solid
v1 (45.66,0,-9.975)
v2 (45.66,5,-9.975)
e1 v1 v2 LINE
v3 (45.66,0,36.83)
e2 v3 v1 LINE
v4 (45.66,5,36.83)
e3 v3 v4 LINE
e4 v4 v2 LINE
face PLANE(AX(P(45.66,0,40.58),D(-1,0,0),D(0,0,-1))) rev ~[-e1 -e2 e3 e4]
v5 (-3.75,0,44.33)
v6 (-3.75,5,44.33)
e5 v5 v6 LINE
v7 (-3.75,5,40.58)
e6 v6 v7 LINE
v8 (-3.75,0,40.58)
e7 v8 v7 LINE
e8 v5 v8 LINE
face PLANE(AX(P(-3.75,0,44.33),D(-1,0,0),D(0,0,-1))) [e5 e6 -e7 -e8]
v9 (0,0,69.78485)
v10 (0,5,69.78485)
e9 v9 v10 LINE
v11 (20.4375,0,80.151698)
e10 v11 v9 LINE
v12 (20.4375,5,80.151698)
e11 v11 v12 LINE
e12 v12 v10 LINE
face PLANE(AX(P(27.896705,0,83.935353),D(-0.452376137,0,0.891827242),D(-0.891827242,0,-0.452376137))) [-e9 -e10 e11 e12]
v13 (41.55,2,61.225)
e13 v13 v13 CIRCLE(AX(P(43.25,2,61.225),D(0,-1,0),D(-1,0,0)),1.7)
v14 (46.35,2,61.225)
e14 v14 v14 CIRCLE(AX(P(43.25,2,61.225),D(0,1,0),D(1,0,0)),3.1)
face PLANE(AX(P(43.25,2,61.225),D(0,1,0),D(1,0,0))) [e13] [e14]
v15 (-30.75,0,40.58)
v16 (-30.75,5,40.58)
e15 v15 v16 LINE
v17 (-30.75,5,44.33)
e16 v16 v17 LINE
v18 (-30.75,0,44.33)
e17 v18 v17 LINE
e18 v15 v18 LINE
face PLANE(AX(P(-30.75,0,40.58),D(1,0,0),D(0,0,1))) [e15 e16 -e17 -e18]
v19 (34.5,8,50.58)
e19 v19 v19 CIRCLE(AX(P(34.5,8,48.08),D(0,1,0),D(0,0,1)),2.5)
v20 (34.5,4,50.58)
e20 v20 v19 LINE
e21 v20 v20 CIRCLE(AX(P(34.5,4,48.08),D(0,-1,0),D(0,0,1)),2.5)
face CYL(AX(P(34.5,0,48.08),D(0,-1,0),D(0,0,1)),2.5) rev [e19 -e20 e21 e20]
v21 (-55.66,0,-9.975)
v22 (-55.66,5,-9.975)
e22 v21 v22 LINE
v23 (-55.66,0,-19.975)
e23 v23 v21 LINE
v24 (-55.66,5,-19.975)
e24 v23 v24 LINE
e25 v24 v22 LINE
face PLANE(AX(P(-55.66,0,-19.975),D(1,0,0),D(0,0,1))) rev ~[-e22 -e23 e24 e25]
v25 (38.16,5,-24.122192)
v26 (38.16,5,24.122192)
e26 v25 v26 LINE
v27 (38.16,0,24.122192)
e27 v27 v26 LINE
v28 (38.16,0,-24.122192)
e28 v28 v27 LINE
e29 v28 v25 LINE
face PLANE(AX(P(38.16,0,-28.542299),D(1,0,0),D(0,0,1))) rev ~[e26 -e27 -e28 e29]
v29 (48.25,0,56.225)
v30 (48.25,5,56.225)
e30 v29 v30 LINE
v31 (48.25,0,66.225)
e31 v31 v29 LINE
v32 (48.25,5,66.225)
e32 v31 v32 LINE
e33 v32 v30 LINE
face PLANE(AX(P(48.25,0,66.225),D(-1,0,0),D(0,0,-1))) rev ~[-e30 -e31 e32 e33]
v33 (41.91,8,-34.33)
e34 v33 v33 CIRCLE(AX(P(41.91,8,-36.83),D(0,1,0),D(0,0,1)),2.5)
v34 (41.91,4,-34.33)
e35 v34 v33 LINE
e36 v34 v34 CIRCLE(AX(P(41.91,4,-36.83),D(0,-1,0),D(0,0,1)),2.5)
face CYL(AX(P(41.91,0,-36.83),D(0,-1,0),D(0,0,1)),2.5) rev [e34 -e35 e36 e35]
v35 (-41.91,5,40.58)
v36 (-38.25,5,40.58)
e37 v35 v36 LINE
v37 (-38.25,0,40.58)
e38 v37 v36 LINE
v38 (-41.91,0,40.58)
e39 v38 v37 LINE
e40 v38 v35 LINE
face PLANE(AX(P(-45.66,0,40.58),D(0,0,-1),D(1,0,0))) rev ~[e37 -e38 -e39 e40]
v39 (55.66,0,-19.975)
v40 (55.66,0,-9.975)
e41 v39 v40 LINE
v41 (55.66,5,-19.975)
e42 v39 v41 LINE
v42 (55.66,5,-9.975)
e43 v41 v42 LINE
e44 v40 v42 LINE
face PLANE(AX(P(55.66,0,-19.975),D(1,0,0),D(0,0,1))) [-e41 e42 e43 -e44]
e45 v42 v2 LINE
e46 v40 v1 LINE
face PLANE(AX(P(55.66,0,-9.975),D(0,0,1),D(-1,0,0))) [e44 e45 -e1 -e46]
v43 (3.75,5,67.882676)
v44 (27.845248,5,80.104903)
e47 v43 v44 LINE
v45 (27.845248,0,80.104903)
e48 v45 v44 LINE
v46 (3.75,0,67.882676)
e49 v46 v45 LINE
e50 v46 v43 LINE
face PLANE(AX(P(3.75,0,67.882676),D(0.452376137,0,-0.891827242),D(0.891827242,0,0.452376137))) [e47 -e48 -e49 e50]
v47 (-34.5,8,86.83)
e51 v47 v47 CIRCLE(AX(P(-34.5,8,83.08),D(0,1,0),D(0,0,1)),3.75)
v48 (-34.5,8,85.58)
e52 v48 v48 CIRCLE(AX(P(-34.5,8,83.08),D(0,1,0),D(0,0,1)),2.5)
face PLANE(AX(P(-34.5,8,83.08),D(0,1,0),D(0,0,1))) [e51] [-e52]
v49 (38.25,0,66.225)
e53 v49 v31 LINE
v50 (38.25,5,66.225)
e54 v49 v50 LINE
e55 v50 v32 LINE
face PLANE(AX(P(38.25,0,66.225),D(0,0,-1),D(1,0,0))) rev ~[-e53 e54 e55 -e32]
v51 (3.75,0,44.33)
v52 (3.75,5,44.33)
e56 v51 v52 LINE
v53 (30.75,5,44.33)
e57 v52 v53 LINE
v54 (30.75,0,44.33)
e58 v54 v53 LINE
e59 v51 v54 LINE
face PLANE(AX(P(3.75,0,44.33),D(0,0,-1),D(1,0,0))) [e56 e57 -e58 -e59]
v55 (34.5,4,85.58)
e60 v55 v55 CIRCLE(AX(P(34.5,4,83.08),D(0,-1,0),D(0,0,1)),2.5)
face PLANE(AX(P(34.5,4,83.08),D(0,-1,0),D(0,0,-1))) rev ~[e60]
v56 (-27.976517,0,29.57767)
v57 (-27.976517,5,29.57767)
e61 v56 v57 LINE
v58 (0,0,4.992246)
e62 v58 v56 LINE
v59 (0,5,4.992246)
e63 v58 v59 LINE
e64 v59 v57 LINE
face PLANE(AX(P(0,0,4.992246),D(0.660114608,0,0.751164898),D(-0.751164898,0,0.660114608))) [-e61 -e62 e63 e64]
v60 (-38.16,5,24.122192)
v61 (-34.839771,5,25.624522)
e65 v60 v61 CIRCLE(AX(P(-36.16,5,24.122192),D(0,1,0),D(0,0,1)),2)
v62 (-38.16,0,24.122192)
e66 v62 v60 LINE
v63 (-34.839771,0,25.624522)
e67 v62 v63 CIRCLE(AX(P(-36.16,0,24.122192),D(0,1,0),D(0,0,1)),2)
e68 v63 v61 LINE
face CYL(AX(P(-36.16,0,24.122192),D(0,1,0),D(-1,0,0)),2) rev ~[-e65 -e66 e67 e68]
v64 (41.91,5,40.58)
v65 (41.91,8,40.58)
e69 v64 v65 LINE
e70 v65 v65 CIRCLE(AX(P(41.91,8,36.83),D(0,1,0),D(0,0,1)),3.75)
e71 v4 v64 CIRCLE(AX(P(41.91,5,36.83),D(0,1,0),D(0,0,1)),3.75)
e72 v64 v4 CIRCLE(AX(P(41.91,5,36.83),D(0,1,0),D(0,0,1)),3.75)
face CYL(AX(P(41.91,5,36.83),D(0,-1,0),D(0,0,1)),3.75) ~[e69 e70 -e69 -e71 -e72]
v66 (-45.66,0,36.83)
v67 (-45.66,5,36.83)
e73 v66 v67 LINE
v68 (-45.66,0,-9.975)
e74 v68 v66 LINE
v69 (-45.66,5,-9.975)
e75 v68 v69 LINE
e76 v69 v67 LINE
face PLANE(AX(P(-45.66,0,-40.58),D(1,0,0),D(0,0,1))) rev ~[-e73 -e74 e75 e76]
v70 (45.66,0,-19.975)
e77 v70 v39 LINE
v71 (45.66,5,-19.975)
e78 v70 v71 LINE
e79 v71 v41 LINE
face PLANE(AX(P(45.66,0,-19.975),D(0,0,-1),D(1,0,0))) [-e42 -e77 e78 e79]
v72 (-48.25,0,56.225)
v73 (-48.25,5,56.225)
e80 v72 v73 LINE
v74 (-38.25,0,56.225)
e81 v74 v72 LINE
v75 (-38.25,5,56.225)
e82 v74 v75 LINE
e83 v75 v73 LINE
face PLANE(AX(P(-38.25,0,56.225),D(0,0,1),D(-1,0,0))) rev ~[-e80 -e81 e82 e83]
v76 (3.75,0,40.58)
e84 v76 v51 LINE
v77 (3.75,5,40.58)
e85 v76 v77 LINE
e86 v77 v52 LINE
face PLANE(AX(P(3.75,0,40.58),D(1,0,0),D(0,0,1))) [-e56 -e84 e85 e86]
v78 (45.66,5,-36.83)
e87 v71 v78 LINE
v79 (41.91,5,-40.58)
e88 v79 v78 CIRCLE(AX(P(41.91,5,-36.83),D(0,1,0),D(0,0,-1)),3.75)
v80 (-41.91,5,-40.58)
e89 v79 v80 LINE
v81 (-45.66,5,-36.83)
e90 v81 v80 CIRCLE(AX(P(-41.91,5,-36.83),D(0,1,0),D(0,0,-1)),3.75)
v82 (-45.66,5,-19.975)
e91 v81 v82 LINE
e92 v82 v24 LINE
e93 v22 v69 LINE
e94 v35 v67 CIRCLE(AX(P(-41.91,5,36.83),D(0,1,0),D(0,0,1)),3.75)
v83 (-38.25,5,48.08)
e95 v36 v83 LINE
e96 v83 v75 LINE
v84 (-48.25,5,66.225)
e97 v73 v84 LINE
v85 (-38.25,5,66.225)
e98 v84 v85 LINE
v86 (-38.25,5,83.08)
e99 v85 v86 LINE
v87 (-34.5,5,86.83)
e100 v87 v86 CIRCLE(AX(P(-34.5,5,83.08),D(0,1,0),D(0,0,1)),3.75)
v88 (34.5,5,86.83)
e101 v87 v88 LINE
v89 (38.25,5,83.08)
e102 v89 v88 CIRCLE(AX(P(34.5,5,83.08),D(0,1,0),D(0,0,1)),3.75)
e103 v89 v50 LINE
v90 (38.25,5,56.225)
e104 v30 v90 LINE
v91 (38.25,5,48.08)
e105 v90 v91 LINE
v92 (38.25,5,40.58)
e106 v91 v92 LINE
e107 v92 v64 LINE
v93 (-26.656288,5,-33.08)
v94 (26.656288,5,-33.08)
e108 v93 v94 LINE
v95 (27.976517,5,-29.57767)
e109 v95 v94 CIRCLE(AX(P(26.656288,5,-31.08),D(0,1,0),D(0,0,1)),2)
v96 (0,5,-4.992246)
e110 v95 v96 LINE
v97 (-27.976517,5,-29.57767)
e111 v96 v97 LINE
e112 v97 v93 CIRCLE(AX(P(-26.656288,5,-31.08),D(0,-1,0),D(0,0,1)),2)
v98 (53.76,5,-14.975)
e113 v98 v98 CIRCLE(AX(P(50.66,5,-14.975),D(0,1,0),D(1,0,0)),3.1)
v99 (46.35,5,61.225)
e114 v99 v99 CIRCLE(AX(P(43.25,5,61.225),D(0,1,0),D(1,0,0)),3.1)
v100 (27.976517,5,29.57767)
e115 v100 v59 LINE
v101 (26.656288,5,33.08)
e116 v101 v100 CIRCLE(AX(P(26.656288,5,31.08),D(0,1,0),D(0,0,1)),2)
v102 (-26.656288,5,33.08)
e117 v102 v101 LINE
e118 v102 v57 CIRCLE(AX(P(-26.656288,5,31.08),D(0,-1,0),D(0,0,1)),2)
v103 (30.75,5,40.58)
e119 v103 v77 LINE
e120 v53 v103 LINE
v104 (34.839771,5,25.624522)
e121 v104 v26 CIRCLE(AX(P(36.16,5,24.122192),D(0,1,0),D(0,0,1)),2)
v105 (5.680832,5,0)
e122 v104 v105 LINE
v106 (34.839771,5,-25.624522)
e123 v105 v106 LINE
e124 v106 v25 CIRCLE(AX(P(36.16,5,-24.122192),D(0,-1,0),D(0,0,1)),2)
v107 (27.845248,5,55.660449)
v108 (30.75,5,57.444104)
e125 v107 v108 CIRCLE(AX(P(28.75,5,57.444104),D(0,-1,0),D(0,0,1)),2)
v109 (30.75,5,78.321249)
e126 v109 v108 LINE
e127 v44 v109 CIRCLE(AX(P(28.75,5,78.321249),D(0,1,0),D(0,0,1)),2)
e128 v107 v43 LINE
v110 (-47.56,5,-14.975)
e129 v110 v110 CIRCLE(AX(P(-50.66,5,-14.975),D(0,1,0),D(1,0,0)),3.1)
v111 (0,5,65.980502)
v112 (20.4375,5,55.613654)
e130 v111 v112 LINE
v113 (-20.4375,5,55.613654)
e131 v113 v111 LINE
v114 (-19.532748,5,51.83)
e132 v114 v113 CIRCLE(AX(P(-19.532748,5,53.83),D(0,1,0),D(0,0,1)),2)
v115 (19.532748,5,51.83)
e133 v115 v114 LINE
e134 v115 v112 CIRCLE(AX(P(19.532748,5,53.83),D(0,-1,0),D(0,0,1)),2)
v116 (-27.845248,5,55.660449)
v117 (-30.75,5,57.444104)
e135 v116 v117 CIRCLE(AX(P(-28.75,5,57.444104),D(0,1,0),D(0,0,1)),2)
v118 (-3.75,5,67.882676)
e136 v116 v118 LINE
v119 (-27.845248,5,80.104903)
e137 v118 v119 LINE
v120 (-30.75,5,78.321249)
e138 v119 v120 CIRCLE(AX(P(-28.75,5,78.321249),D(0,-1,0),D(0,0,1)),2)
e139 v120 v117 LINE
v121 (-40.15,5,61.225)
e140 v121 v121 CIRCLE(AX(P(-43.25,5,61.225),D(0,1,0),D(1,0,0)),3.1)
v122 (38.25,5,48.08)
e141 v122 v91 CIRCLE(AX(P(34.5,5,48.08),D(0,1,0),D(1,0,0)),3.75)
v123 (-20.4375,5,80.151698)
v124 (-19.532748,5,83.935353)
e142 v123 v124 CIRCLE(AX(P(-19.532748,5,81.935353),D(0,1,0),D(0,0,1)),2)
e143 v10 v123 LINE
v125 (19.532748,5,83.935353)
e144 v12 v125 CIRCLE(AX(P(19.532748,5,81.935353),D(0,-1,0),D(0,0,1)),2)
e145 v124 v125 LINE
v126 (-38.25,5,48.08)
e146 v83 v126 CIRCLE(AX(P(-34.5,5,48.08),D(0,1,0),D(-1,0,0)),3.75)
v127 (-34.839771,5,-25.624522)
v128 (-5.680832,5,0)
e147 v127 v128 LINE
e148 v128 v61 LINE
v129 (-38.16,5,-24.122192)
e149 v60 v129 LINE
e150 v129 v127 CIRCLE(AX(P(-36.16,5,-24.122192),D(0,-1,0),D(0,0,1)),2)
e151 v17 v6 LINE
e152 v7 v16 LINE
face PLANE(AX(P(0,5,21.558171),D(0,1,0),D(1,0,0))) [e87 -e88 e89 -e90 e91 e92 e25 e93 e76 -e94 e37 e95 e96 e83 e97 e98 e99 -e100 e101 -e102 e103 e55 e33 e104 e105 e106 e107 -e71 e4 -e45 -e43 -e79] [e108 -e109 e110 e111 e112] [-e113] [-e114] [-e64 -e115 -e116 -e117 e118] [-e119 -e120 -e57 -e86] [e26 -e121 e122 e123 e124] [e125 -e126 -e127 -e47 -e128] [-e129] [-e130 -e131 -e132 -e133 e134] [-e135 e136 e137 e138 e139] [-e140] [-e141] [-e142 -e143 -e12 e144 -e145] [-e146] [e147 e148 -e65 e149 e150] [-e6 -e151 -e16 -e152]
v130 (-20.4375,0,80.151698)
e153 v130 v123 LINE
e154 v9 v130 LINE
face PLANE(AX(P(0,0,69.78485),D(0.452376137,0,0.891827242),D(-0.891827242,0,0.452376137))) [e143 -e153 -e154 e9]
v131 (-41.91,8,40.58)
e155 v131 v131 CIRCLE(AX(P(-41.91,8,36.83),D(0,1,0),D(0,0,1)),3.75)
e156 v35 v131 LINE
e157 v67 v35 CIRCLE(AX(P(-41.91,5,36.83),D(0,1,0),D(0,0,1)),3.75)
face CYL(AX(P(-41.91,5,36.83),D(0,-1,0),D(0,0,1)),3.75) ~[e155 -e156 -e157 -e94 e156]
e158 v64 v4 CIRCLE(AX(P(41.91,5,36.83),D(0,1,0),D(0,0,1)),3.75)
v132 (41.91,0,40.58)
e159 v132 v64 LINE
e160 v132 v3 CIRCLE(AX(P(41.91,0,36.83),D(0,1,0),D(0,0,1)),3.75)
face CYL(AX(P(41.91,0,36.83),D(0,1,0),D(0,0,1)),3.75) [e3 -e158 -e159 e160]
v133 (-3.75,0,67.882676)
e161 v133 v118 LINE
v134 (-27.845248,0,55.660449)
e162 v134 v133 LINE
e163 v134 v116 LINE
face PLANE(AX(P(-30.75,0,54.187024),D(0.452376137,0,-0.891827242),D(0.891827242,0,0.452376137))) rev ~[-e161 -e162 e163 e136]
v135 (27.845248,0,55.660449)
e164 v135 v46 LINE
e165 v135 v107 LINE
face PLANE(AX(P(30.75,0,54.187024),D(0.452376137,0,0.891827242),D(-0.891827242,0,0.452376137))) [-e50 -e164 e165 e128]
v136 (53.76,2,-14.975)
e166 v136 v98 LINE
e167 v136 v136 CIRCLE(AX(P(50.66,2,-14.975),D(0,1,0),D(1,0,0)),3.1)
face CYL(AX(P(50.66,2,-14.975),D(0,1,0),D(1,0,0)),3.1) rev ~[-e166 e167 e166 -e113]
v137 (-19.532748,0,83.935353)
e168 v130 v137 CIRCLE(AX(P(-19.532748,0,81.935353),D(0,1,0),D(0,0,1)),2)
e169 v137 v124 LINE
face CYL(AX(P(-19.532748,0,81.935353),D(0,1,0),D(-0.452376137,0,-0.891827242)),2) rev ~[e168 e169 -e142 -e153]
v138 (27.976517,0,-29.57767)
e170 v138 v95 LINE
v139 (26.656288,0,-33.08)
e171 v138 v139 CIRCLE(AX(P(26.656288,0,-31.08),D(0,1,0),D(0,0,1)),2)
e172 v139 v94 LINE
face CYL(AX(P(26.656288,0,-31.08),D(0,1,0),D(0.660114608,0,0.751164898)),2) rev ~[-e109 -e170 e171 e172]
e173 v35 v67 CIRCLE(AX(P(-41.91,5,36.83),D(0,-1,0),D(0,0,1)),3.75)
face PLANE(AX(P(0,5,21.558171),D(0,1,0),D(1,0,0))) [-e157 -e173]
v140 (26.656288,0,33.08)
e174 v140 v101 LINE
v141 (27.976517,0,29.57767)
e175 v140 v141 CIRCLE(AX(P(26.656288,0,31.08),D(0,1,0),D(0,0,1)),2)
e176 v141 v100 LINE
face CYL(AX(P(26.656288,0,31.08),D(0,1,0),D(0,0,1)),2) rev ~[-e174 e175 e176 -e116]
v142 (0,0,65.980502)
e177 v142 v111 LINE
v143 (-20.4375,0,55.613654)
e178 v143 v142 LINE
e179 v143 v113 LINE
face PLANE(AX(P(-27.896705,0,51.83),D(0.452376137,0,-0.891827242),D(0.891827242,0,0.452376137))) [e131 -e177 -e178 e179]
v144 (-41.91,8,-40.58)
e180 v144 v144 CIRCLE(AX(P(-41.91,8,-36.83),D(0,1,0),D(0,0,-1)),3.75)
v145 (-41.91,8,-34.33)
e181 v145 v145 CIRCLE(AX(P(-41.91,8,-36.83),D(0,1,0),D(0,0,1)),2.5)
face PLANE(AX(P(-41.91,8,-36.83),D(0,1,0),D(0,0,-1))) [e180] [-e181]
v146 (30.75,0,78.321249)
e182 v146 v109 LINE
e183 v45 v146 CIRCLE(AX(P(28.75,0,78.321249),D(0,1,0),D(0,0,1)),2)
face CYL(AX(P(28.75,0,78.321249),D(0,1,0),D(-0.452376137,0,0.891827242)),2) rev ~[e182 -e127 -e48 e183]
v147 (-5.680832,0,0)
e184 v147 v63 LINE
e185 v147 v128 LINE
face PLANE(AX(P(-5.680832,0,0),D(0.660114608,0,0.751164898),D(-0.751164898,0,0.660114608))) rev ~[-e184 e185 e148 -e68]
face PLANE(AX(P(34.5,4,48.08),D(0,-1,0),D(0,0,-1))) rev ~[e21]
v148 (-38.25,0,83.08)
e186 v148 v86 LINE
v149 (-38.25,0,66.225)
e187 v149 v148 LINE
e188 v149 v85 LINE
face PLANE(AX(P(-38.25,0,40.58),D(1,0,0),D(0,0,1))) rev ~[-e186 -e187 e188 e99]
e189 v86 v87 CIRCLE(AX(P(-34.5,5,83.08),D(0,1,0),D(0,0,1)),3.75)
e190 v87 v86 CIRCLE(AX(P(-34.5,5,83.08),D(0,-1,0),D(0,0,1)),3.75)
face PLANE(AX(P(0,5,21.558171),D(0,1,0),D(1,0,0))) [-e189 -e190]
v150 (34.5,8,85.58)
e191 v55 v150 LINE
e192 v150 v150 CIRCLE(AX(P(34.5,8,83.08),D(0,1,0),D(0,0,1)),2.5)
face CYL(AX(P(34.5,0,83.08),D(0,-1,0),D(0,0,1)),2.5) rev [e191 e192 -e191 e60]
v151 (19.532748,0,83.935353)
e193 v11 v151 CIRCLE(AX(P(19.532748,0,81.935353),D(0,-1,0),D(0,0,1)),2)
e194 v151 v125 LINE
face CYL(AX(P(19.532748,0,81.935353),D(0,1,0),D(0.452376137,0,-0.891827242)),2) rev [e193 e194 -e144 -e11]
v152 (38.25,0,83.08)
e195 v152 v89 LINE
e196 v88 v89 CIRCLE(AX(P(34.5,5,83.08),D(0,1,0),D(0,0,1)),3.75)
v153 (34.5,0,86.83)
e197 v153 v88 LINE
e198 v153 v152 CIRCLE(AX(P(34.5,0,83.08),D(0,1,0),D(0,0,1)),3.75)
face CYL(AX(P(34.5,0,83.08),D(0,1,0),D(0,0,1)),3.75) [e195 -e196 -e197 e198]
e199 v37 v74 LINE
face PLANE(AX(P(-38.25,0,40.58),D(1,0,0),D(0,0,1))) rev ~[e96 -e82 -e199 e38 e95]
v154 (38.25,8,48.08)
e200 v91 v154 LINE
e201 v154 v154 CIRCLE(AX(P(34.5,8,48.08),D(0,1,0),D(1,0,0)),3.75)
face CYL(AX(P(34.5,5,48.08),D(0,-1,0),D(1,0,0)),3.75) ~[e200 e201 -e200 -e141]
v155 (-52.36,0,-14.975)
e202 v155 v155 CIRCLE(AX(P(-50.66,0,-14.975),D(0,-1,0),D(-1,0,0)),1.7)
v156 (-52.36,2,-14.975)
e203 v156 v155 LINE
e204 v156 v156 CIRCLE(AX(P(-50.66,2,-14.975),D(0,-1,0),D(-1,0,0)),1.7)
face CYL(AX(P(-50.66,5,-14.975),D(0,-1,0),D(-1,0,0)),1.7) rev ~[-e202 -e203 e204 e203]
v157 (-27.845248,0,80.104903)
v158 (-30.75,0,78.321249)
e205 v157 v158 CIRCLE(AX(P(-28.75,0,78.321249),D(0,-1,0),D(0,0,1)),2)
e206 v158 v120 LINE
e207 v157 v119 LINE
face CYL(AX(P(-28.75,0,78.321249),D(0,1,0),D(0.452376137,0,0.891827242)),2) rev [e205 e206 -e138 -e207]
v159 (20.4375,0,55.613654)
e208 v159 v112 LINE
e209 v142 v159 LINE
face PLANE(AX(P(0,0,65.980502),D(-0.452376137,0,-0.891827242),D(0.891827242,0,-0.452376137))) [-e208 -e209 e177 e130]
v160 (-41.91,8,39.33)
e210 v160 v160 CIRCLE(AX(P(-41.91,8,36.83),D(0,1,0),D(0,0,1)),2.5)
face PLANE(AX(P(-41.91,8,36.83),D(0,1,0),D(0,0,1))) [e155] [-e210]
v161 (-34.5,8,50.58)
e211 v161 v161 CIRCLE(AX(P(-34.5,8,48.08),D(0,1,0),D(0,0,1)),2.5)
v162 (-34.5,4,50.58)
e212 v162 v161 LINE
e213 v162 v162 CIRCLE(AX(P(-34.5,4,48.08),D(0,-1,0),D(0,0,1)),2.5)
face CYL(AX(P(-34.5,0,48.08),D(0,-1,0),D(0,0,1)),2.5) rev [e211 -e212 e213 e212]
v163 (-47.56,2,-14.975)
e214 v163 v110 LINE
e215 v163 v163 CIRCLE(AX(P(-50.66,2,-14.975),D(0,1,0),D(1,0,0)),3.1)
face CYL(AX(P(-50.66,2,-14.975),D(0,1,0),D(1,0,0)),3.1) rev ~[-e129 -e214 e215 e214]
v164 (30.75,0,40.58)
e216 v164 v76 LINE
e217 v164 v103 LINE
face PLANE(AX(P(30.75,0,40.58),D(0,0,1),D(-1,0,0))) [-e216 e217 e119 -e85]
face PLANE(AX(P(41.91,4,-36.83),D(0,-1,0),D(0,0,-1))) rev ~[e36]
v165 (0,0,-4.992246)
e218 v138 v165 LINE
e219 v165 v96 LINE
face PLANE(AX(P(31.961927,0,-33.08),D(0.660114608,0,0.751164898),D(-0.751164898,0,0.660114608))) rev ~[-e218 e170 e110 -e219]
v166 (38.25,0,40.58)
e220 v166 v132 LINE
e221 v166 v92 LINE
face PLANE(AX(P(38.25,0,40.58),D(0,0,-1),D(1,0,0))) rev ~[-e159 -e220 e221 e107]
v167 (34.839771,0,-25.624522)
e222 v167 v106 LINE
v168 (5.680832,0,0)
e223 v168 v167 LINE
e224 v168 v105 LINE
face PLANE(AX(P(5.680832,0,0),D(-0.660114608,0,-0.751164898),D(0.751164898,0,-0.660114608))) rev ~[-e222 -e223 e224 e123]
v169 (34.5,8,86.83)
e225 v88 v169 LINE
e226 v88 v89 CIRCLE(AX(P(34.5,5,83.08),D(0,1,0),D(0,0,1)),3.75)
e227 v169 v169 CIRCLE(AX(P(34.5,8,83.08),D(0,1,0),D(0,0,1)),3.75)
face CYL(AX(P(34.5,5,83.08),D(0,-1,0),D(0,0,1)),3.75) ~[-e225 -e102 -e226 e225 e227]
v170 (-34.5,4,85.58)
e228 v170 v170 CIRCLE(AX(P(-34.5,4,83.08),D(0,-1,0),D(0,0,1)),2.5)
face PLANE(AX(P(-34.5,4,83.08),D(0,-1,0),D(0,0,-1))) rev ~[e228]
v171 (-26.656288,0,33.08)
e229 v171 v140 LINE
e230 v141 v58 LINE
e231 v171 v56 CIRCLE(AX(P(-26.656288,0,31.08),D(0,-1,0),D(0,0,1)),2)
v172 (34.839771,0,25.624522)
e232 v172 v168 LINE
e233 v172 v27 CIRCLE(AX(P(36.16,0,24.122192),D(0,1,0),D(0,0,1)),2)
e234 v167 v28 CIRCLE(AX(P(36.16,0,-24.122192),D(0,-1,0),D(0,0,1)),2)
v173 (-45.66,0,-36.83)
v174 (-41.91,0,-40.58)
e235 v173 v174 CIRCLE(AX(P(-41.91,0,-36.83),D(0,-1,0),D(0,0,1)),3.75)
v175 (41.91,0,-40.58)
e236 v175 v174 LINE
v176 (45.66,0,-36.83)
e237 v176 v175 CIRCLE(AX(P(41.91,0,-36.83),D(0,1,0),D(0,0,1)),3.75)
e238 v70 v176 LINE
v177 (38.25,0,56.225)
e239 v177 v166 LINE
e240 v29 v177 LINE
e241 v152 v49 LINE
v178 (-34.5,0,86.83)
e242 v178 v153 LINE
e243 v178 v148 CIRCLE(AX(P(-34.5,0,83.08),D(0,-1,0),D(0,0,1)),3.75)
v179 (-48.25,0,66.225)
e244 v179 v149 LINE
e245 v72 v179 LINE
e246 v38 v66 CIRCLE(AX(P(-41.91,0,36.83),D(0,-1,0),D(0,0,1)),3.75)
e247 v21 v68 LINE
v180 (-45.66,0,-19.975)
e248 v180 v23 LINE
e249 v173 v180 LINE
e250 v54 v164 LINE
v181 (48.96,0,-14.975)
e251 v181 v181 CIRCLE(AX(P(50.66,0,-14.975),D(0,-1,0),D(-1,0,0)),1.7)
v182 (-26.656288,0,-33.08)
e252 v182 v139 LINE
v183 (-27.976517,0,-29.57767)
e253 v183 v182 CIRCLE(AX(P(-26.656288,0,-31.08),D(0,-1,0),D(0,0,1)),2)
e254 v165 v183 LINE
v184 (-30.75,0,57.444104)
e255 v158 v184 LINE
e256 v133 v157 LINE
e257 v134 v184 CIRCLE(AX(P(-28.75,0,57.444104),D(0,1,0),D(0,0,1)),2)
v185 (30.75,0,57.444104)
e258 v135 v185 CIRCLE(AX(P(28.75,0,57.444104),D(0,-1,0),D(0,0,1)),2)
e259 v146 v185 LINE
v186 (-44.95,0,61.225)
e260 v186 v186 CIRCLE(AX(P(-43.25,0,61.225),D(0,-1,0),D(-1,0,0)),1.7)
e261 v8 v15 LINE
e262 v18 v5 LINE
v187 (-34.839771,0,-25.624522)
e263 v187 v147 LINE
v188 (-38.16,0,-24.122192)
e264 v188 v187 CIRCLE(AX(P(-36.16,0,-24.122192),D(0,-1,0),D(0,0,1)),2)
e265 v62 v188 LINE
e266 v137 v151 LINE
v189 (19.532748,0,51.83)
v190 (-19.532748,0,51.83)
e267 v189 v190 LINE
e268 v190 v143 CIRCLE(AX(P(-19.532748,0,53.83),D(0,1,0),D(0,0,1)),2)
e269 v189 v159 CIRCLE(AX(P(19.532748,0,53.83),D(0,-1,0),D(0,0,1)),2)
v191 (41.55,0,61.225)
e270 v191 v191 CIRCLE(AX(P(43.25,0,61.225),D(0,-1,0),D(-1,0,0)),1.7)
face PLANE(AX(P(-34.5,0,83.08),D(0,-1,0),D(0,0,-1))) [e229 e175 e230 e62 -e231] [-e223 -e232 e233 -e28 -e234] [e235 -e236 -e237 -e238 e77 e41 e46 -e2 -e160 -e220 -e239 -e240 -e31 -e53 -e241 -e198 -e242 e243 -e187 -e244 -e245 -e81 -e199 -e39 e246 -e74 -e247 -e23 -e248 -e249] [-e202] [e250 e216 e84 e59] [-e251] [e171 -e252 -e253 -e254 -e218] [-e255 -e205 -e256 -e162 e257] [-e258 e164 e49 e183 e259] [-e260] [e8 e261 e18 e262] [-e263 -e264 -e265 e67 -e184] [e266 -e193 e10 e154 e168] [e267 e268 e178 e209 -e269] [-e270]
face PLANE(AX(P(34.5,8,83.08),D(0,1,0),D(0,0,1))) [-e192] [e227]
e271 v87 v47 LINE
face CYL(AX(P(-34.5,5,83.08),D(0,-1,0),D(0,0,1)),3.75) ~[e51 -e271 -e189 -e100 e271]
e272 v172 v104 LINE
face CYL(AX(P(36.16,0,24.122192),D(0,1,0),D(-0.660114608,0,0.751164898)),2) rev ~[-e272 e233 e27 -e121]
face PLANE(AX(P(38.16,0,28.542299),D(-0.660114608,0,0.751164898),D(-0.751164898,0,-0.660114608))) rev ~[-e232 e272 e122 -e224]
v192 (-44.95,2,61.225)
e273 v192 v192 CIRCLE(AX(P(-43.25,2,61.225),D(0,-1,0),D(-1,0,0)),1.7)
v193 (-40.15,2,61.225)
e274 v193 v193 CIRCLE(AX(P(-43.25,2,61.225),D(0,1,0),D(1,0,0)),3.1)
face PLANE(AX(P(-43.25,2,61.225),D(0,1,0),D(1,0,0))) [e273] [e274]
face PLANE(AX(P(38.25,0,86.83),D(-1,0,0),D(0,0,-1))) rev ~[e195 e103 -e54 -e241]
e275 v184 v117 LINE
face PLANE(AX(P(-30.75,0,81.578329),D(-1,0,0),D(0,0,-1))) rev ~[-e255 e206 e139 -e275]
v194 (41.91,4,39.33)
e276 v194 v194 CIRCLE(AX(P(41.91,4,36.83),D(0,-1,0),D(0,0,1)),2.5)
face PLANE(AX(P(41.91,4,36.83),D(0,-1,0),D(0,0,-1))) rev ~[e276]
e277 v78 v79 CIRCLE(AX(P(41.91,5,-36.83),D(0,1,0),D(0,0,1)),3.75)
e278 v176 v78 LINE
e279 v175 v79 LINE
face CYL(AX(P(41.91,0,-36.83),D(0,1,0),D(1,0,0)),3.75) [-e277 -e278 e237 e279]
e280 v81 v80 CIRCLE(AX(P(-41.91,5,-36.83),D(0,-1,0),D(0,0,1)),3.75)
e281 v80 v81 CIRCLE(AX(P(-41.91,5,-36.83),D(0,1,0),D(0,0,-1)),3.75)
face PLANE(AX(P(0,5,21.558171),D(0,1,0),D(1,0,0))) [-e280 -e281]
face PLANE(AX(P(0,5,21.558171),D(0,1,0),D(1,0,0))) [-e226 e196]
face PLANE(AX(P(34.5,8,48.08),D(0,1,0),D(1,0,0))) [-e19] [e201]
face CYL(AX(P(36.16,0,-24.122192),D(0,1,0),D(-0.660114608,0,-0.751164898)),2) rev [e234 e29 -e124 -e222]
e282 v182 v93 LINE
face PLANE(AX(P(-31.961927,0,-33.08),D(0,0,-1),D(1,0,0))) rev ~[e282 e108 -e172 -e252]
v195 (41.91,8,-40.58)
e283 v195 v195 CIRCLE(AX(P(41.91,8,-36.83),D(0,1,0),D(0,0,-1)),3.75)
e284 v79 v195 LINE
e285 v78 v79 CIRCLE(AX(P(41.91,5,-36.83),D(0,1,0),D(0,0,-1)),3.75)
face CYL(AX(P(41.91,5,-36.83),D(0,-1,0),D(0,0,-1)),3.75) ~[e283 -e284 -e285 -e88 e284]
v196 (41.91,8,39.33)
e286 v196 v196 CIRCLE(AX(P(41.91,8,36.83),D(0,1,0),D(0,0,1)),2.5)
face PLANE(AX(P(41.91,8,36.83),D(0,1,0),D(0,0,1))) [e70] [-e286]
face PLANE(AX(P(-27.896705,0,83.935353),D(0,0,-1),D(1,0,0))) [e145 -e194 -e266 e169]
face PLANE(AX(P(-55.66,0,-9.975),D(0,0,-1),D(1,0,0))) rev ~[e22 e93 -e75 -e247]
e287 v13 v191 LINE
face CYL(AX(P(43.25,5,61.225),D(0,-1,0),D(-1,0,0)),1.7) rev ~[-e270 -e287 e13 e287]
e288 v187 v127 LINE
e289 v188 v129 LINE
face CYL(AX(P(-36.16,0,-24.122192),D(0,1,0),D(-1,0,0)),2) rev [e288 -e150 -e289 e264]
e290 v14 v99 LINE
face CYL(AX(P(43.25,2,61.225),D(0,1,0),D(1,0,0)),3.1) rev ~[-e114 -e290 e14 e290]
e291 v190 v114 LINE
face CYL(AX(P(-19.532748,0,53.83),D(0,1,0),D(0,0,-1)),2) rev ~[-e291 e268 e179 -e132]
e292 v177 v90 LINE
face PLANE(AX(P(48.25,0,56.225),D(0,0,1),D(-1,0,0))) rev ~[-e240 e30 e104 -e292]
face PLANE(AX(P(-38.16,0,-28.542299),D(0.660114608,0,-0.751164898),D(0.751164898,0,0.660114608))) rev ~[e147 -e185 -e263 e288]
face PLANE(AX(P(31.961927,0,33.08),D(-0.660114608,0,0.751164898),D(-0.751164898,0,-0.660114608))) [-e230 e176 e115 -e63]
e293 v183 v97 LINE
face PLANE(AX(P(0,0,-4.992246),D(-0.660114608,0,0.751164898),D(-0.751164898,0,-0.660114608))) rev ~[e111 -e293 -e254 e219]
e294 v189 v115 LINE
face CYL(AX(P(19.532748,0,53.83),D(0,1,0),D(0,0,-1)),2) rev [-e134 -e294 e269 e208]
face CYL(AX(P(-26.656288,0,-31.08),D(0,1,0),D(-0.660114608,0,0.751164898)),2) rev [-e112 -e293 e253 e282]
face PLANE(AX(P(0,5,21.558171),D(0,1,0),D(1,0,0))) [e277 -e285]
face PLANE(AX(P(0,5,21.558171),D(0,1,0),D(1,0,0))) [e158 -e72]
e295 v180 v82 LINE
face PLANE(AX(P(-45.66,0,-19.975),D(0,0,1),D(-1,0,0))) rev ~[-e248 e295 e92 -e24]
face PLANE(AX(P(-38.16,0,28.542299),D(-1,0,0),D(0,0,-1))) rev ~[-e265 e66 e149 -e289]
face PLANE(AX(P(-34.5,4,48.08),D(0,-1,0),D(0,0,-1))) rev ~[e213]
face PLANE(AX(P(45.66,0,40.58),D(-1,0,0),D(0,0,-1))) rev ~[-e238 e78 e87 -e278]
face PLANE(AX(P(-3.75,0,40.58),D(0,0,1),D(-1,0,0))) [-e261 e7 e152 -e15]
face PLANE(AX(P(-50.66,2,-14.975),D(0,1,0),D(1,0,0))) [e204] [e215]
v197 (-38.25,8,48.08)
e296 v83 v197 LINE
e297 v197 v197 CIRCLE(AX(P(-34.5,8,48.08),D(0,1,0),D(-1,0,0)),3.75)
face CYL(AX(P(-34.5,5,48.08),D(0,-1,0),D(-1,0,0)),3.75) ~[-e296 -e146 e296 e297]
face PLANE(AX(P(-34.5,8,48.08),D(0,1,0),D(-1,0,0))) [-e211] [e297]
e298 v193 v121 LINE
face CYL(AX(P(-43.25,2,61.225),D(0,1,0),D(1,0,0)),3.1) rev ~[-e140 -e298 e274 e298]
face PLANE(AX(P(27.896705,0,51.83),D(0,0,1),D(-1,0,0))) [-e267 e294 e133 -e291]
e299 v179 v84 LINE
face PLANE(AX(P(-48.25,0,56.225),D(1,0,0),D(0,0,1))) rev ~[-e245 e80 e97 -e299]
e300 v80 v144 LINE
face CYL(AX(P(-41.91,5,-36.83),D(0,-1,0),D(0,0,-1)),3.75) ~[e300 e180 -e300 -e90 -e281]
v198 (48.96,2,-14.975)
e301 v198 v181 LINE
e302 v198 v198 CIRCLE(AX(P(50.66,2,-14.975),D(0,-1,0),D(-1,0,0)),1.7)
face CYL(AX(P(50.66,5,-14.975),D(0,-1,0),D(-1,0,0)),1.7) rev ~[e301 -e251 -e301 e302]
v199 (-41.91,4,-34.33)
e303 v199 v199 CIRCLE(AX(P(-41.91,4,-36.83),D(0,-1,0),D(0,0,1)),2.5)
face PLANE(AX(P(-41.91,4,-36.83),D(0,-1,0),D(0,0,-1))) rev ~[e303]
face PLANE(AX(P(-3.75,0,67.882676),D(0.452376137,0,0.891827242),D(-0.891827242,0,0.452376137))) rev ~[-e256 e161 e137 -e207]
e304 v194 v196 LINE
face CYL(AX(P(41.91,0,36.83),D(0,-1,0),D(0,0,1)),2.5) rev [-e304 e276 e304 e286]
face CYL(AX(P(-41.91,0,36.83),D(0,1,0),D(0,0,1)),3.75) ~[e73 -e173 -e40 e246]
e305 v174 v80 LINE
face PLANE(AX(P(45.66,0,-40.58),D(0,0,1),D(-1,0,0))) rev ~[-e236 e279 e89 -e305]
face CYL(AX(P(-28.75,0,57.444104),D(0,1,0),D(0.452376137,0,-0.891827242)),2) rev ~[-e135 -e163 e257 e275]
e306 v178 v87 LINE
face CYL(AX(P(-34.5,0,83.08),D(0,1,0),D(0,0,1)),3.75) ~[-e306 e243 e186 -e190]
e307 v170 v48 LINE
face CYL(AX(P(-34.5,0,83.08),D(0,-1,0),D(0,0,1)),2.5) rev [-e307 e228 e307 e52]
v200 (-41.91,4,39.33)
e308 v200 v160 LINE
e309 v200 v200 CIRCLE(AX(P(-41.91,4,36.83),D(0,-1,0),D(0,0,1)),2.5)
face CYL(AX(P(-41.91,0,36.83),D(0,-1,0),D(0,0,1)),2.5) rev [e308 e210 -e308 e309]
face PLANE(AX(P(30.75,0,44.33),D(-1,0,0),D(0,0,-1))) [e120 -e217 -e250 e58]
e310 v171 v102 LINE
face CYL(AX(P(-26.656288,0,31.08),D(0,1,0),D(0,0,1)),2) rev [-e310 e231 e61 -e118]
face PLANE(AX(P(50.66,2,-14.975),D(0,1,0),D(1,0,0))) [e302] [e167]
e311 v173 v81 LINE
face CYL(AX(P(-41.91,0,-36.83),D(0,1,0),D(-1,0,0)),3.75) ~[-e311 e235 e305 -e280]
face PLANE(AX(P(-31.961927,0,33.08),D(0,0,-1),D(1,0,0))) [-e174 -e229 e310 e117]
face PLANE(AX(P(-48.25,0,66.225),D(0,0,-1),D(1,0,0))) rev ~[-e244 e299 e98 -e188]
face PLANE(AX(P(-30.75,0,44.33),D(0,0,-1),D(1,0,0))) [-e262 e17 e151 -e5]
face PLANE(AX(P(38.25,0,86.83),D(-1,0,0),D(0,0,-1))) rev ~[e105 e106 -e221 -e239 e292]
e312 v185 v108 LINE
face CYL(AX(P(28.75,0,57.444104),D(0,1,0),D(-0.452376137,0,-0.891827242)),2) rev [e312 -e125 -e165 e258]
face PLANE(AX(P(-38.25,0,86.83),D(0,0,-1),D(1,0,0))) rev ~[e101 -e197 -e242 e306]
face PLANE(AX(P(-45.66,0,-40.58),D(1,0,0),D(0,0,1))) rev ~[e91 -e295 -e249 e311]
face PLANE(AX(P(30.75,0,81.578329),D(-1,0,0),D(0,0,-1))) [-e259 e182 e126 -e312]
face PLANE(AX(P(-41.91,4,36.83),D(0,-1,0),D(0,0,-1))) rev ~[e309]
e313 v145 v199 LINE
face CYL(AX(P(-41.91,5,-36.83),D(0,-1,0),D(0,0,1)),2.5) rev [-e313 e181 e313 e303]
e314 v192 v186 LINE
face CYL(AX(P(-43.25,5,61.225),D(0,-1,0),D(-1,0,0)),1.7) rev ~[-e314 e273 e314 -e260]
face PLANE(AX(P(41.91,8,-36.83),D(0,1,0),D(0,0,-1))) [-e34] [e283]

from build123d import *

# Parameters (mm, degrees)
SKETCH2_R                      = 2.5000000000000027
BOSS_EXTRUDE2_DEPTH            = 5
SKETCH3_R                      = 3.750000000000007
SKETCH3_R_2                    = 2.5000000000000027
SKETCH3_R_3                    = 3.7500000000000036
SKETCH3_R_4                    = 3.7500000000000138
SKETCH3_R_5                    = 3.7499999999999916
BOSS_EXTRUDE3_DEPTH            = 3
FILLET1_R                      = 3.75
BOSS_EXTRUDE4_DEPTH            = 5
CBORE_FOR_M3_SHCS1_D           = 3.4
CBORE_FOR_M3_SHCS1_CBORE_D     = 6.2
CBORE_FOR_M3_SHCS1_CBORE_DEPTH = 3
SKETCH8_R                      = 2.5000000000000027
BOSS_EXTRUDE5_DEPTH            = 4
FILLET2_R                      = 2


with BuildPart() as part:
    # Sketch2 → Boss-Extrude2 (new body)
    with BuildSketch(Plane(origin=(0, 0, 0), x_dir=(1, 0, 0), z_dir=(0, 1, 0))):
        Polygon((45.660000000000004, 40.58000000000002), (-45.65999999999999, 40.58000000000002), (-45.65999999999999, -40.580000000000005), (-38.24999999999999, -40.580000000000005), (-38.25000000000001, -48.07999999999986), (-38.25000000000001, -86.82999999999993), (38.25000000000002, -86.82999999999993), (38.25000000000001, -48.0799999999999), (38.25000000000002, -40.57999999999999), (45.660000000000004, -40.57999999999999), align=None)
        with Locations(Location((-41.90999999999999, 36.83000000000001, 0), (0, 0, 270))):
            Circle(SKETCH2_R, mode=Mode.SUBTRACT)
        with Locations(Location((41.910000000000004, 36.83000000000001, 0), (0, 0, 270))):
            Circle(SKETCH2_R, mode=Mode.SUBTRACT)
        with Locations(Location((-41.90999999999999, -36.82999999999999, 0), (0, 0, 270))):
            Circle(SKETCH2_R, mode=Mode.SUBTRACT)
        with Locations(Location((41.910000000000004, -36.82999999999999, 0), (0, 0, 270))):
            Circle(SKETCH2_R, mode=Mode.SUBTRACT)
        with Locations(Location((-34.50000000000001, -48.07999999999986, 0), (0, 0, 270))):
            Circle(SKETCH2_R, mode=Mode.SUBTRACT)
        with Locations(Location((-34.49999999999999, -83.0799999999999, 0), (0, 0, 270))):
            Circle(SKETCH2_R, mode=Mode.SUBTRACT)
        with Locations(Location((34.49999999999999, -83.0799999999999, 0), (0, 0, 270))):
            Circle(SKETCH2_R, mode=Mode.SUBTRACT)
        with Locations(Location((34.50000000000001, -48.0799999999999, 0), (0, 0, 270))):
            Circle(SKETCH2_R, mode=Mode.SUBTRACT)
        Polygon((38.16, -28.542299400797987), (5.680831716333313, 2.429e-14), (38.16, 28.542299400798022), align=None, mode=Mode.SUBTRACT)
        Polygon((-38.15999999999998, -28.54229940079798), (-38.15999999999999, 28.54229940079801), (-5.680831716333299, 1.041e-14), align=None, mode=Mode.SUBTRACT)
        Polygon((31.96192690435635, 33.08000000000001), (6.94e-15, 4.992246053747464), (-31.96192690435633, 33.08000000000001), align=None, mode=Mode.SUBTRACT)
        Polygon((31.96192690435635, -33.079999999999984), (7.81e-15, -4.992246053747436), (-31.961926904356336, -33.079999999999984), align=None, mode=Mode.SUBTRACT)
        Polygon((-30.749999999999986, -44.32999999999987), (-3.75, -44.32999999999987), (-3.749999999999986, -40.58), (-30.74999999999999, -40.580000000000005), align=None, mode=Mode.SUBTRACT)
        Polygon((30.75, -81.57832850736624), (30.750000000000004, -54.18702415953998), (3.7500000000000004, -67.88267633345322), align=None, mode=Mode.SUBTRACT)
        Polygon((30.750000000000004, -44.32999999999987), (30.750000000000018, -40.57999999999999), (3.7500000000000138, -40.58), (3.750000000000019, -44.32999999999987), align=None, mode=Mode.SUBTRACT)
        Polygon((-27.896704771665014, -83.9353526669063), (27.896704771665014, -83.9353526669063), (0, -69.78485024649659), align=None, mode=Mode.SUBTRACT)
        Polygon((-27.896704771665025, -51.82999999999982), (-2.8e-16, -65.98050242040974), (27.896704771665025, -51.82999999999982), align=None, mode=Mode.SUBTRACT)
        Polygon((-30.750000000000004, -54.18702415953998), (-3.749999999999999, -67.88267633345322), (-30.75, -81.57832850736624), align=None, mode=Mode.SUBTRACT)
    extrude(amount=BOSS_EXTRUDE2_DEPTH)

    # Sketch3 → Boss-Extrude3 (add)
    # profile 1 of 8: a face of its own
    with BuildSketch(Plane(origin=(0, 5, 0), x_dir=(1, 0, 0), z_dir=(0, 1, 0))):
        with Locations(Location((-41.90999999999999, 36.83000000000001, 0), (0, 0, 90))):
            Circle(SKETCH3_R)
        with Locations(Location((-41.90999999999999, 36.83000000000001, 0), (0, 0, 270))):
            Circle(SKETCH3_R_2, mode=Mode.SUBTRACT)
    # profile 2 of 8: a face of its own
    with BuildSketch(Plane(origin=(0, 5, 0), x_dir=(1, 0, 0), z_dir=(0, 1, 0))):
        with Locations(Location((41.910000000000004, 36.83000000000001, 0), (0, 0, 90))):
            Circle(SKETCH3_R)
        with Locations(Location((41.910000000000004, 36.83000000000001, 0), (0, 0, 270))):
            Circle(SKETCH3_R_2, mode=Mode.SUBTRACT)
    # profile 3 of 8: a face of its own
    with BuildSketch(Plane(origin=(0, 5, 0), x_dir=(1, 0, 0), z_dir=(0, 1, 0))):
        with Locations(Location((41.910000000000004, -36.82999999999999, 0), (0, 0, 270))):
            Circle(SKETCH3_R)
        with Locations(Location((41.910000000000004, -36.82999999999999, 0), (0, 0, 270))):
            Circle(SKETCH3_R_2, mode=Mode.SUBTRACT)
    # profile 4 of 8: a face of its own
    with BuildSketch(Plane(origin=(0, 5, 0), x_dir=(1, 0, 0), z_dir=(0, 1, 0))):
        with Locations(Location((-41.90999999999999, -36.82999999999999, 0), (0, 0, 270))):
            Circle(SKETCH3_R)
        with Locations(Location((-41.90999999999999, -36.82999999999999, 0), (0, 0, 270))):
            Circle(SKETCH3_R_2, mode=Mode.SUBTRACT)
    # profile 5 of 8: a face of its own
    with BuildSketch(Plane(origin=(0, 5, 0), x_dir=(1, 0, 0), z_dir=(0, 1, 0))):
        with Locations(Location((-34.50000000000001, -48.07999999999986, 0), (0, 0, 180))):
            Circle(SKETCH3_R_3)
        with Locations(Location((-34.50000000000001, -48.07999999999986, 0), (0, 0, 270))):
            Circle(SKETCH3_R_2, mode=Mode.SUBTRACT)
    # profile 6 of 8: a face of its own
    with BuildSketch(Plane(origin=(0, 5, 0), x_dir=(1, 0, 0), z_dir=(0, 1, 0))):
        with Locations(Location((-34.49999999999999, -83.0799999999999, 0), (0, 0, 270))):
            Circle(SKETCH3_R_3)
        with Locations(Location((-34.49999999999999, -83.0799999999999, 0), (0, 0, 270))):
            Circle(SKETCH3_R_2, mode=Mode.SUBTRACT)
    # profile 7 of 8: a face of its own
    with BuildSketch(Plane(origin=(0, 5, 0), x_dir=(1, 0, 0), z_dir=(0, 1, 0))):
        with Locations(Location((34.49999999999999, -83.0799999999999, 0), (0, 0, 270))):
            Circle(SKETCH3_R_4)
        with Locations(Location((34.49999999999999, -83.0799999999999, 0), (0, 0, 270))):
            Circle(SKETCH3_R_2, mode=Mode.SUBTRACT)
    # profile 8 of 8: a face of its own
    with BuildSketch(Plane(origin=(0, 5, 0), x_dir=(1, 0, 0), z_dir=(0, 1, 0))):
        with Locations((34.50000000000001, -48.0799999999999)):
            Circle(SKETCH3_R_5)
        with Locations(Location((34.50000000000001, -48.0799999999999, 0), (0, 0, 270))):
            Circle(SKETCH3_R_2, mode=Mode.SUBTRACT)
    extrude(amount=BOSS_EXTRUDE3_DEPTH)

    # Fillet1
    fillet1_edges = [part.edges().sort_by_distance(p)[0] for p in [
        (-45.65999999999999, 2.5, -40.58000000000002),
        (38.25000000000002, 2.5, 86.82999999999993),
        (-38.25000000000001, 2.5, 86.82999999999993),
        (-45.65999999999999, 2.5, 40.580000000000005),
        (45.660000000000004, 2.5, 40.57999999999999),
        (45.660000000000004, 2.5, -40.58000000000002),
    ]]
    fillet(fillet1_edges, radius=FILLET1_R)

    # Sketch4 → Boss-Extrude4 (add)
    with BuildSketch(Plane.XZ):
        Polygon((-45.65999999999999, -19.975), (-55.66, -19.975), (-55.66, -9.975000000000001), (-45.65999999999999, -9.975000000000003), align=None)
        Polygon((45.660000000000004, -19.975), (55.66000000000001, -19.975), (55.660000000000004, -9.974999999999998), (45.660000000000004, -9.975000000000001), align=None)
        Polygon((-38.25000000000007, 56.224999999999994), (-48.25000000000008, 56.225), (-48.25000000000008, 66.22500000000001), (-38.25000000000007, 66.22500000000001), align=None)
        Polygon((38.25000000000002, 66.22500000000001), (48.250000000000014, 66.22500000000001), (48.25000000000002, 56.224999999999994), (38.25000000000002, 56.224999999999994), align=None)
    extrude(amount=-BOSS_EXTRUDE4_DEPTH)

    # CBORE for M3 SHCS1 (through all)
    with Locations(Plane(origin=(0, 5, 0), x_dir=(1, 0, 0), z_dir=(0, 1, 0))):
        with Locations((50.66, 14.975), (-50.66, 14.975), (-43.25, -61.225), (43.25, -61.225)):
            CounterBoreHole(CBORE_FOR_M3_SHCS1_D / 2, CBORE_FOR_M3_SHCS1_CBORE_D / 2, CBORE_FOR_M3_SHCS1_CBORE_DEPTH)

    # Sketch8 → Boss-Extrude5 (add)
    with BuildSketch(Plane.XZ):
        with Locations(Location((-34.49999999999999, 83.0799999999999, 0), (0, 0, 270))):
            Circle(SKETCH8_R)
        with Locations(Location((34.49999999999999, 83.0799999999999, 0), (0, 0, 270))):
            Circle(SKETCH8_R)
        with Locations(Location((34.50000000000001, 48.0799999999999, 0), (0, 0, 270))):
            Circle(SKETCH8_R)
        with Locations(Location((41.910000000000004, 36.82999999999999, 0), (0, 0, 270))):
            Circle(SKETCH8_R)
        with Locations(Location((41.910000000000004, -36.83000000000001, 0), (0, 0, 270))):
            Circle(SKETCH8_R)
        with Locations(Location((-41.90999999999999, -36.83000000000001, 0), (0, 0, 270))):
            Circle(SKETCH8_R)
        with Locations(Location((-41.90999999999999, 36.82999999999999, 0), (0, 0, 270))):
            Circle(SKETCH8_R)
        with Locations(Location((-34.50000000000001, 48.07999999999986, 0), (0, 0, 270))):
            Circle(SKETCH8_R)
    extrude(amount=-BOSS_EXTRUDE5_DEPTH)

    # Fillet2
    fillet2_edges = [part.edges().sort_by_distance(p)[0] for p in [
        (27.896704771665025, 2.5, 51.82999999999982),
        (-27.896704771665025, 2.5, 51.82999999999982),
        (-27.896704771665014, 2.5, 83.9353526669063),
        (27.896704771665014, 2.5, 83.9353526669063),
        (-30.750000000000004, 2.5, 54.18702415953998),
        (-30.75, 2.5, 81.57832850736624),
        (-31.961926904356336, 2.5, 33.079999999999984),
        (31.96192690435635, 2.5, 33.079999999999984),
        (31.96192690435635, 2.5, -33.08000000000001),
        (-31.96192690435633, 2.5, -33.08000000000001),
        (-38.15999999999999, 2.5, -28.54229940079801),
        (-38.15999999999998, 2.5, 28.54229940079798),
        (38.16, 2.5, -28.542299400798022),
        (38.16, 2.5, 28.542299400797987),
        (30.75, 2.5, 81.57832850736624),
        (30.750000000000004, 2.5, 54.18702415953998),
    ]]
    fillet(fillet2_edges, radius=FILLET2_R)


solid = part.part
